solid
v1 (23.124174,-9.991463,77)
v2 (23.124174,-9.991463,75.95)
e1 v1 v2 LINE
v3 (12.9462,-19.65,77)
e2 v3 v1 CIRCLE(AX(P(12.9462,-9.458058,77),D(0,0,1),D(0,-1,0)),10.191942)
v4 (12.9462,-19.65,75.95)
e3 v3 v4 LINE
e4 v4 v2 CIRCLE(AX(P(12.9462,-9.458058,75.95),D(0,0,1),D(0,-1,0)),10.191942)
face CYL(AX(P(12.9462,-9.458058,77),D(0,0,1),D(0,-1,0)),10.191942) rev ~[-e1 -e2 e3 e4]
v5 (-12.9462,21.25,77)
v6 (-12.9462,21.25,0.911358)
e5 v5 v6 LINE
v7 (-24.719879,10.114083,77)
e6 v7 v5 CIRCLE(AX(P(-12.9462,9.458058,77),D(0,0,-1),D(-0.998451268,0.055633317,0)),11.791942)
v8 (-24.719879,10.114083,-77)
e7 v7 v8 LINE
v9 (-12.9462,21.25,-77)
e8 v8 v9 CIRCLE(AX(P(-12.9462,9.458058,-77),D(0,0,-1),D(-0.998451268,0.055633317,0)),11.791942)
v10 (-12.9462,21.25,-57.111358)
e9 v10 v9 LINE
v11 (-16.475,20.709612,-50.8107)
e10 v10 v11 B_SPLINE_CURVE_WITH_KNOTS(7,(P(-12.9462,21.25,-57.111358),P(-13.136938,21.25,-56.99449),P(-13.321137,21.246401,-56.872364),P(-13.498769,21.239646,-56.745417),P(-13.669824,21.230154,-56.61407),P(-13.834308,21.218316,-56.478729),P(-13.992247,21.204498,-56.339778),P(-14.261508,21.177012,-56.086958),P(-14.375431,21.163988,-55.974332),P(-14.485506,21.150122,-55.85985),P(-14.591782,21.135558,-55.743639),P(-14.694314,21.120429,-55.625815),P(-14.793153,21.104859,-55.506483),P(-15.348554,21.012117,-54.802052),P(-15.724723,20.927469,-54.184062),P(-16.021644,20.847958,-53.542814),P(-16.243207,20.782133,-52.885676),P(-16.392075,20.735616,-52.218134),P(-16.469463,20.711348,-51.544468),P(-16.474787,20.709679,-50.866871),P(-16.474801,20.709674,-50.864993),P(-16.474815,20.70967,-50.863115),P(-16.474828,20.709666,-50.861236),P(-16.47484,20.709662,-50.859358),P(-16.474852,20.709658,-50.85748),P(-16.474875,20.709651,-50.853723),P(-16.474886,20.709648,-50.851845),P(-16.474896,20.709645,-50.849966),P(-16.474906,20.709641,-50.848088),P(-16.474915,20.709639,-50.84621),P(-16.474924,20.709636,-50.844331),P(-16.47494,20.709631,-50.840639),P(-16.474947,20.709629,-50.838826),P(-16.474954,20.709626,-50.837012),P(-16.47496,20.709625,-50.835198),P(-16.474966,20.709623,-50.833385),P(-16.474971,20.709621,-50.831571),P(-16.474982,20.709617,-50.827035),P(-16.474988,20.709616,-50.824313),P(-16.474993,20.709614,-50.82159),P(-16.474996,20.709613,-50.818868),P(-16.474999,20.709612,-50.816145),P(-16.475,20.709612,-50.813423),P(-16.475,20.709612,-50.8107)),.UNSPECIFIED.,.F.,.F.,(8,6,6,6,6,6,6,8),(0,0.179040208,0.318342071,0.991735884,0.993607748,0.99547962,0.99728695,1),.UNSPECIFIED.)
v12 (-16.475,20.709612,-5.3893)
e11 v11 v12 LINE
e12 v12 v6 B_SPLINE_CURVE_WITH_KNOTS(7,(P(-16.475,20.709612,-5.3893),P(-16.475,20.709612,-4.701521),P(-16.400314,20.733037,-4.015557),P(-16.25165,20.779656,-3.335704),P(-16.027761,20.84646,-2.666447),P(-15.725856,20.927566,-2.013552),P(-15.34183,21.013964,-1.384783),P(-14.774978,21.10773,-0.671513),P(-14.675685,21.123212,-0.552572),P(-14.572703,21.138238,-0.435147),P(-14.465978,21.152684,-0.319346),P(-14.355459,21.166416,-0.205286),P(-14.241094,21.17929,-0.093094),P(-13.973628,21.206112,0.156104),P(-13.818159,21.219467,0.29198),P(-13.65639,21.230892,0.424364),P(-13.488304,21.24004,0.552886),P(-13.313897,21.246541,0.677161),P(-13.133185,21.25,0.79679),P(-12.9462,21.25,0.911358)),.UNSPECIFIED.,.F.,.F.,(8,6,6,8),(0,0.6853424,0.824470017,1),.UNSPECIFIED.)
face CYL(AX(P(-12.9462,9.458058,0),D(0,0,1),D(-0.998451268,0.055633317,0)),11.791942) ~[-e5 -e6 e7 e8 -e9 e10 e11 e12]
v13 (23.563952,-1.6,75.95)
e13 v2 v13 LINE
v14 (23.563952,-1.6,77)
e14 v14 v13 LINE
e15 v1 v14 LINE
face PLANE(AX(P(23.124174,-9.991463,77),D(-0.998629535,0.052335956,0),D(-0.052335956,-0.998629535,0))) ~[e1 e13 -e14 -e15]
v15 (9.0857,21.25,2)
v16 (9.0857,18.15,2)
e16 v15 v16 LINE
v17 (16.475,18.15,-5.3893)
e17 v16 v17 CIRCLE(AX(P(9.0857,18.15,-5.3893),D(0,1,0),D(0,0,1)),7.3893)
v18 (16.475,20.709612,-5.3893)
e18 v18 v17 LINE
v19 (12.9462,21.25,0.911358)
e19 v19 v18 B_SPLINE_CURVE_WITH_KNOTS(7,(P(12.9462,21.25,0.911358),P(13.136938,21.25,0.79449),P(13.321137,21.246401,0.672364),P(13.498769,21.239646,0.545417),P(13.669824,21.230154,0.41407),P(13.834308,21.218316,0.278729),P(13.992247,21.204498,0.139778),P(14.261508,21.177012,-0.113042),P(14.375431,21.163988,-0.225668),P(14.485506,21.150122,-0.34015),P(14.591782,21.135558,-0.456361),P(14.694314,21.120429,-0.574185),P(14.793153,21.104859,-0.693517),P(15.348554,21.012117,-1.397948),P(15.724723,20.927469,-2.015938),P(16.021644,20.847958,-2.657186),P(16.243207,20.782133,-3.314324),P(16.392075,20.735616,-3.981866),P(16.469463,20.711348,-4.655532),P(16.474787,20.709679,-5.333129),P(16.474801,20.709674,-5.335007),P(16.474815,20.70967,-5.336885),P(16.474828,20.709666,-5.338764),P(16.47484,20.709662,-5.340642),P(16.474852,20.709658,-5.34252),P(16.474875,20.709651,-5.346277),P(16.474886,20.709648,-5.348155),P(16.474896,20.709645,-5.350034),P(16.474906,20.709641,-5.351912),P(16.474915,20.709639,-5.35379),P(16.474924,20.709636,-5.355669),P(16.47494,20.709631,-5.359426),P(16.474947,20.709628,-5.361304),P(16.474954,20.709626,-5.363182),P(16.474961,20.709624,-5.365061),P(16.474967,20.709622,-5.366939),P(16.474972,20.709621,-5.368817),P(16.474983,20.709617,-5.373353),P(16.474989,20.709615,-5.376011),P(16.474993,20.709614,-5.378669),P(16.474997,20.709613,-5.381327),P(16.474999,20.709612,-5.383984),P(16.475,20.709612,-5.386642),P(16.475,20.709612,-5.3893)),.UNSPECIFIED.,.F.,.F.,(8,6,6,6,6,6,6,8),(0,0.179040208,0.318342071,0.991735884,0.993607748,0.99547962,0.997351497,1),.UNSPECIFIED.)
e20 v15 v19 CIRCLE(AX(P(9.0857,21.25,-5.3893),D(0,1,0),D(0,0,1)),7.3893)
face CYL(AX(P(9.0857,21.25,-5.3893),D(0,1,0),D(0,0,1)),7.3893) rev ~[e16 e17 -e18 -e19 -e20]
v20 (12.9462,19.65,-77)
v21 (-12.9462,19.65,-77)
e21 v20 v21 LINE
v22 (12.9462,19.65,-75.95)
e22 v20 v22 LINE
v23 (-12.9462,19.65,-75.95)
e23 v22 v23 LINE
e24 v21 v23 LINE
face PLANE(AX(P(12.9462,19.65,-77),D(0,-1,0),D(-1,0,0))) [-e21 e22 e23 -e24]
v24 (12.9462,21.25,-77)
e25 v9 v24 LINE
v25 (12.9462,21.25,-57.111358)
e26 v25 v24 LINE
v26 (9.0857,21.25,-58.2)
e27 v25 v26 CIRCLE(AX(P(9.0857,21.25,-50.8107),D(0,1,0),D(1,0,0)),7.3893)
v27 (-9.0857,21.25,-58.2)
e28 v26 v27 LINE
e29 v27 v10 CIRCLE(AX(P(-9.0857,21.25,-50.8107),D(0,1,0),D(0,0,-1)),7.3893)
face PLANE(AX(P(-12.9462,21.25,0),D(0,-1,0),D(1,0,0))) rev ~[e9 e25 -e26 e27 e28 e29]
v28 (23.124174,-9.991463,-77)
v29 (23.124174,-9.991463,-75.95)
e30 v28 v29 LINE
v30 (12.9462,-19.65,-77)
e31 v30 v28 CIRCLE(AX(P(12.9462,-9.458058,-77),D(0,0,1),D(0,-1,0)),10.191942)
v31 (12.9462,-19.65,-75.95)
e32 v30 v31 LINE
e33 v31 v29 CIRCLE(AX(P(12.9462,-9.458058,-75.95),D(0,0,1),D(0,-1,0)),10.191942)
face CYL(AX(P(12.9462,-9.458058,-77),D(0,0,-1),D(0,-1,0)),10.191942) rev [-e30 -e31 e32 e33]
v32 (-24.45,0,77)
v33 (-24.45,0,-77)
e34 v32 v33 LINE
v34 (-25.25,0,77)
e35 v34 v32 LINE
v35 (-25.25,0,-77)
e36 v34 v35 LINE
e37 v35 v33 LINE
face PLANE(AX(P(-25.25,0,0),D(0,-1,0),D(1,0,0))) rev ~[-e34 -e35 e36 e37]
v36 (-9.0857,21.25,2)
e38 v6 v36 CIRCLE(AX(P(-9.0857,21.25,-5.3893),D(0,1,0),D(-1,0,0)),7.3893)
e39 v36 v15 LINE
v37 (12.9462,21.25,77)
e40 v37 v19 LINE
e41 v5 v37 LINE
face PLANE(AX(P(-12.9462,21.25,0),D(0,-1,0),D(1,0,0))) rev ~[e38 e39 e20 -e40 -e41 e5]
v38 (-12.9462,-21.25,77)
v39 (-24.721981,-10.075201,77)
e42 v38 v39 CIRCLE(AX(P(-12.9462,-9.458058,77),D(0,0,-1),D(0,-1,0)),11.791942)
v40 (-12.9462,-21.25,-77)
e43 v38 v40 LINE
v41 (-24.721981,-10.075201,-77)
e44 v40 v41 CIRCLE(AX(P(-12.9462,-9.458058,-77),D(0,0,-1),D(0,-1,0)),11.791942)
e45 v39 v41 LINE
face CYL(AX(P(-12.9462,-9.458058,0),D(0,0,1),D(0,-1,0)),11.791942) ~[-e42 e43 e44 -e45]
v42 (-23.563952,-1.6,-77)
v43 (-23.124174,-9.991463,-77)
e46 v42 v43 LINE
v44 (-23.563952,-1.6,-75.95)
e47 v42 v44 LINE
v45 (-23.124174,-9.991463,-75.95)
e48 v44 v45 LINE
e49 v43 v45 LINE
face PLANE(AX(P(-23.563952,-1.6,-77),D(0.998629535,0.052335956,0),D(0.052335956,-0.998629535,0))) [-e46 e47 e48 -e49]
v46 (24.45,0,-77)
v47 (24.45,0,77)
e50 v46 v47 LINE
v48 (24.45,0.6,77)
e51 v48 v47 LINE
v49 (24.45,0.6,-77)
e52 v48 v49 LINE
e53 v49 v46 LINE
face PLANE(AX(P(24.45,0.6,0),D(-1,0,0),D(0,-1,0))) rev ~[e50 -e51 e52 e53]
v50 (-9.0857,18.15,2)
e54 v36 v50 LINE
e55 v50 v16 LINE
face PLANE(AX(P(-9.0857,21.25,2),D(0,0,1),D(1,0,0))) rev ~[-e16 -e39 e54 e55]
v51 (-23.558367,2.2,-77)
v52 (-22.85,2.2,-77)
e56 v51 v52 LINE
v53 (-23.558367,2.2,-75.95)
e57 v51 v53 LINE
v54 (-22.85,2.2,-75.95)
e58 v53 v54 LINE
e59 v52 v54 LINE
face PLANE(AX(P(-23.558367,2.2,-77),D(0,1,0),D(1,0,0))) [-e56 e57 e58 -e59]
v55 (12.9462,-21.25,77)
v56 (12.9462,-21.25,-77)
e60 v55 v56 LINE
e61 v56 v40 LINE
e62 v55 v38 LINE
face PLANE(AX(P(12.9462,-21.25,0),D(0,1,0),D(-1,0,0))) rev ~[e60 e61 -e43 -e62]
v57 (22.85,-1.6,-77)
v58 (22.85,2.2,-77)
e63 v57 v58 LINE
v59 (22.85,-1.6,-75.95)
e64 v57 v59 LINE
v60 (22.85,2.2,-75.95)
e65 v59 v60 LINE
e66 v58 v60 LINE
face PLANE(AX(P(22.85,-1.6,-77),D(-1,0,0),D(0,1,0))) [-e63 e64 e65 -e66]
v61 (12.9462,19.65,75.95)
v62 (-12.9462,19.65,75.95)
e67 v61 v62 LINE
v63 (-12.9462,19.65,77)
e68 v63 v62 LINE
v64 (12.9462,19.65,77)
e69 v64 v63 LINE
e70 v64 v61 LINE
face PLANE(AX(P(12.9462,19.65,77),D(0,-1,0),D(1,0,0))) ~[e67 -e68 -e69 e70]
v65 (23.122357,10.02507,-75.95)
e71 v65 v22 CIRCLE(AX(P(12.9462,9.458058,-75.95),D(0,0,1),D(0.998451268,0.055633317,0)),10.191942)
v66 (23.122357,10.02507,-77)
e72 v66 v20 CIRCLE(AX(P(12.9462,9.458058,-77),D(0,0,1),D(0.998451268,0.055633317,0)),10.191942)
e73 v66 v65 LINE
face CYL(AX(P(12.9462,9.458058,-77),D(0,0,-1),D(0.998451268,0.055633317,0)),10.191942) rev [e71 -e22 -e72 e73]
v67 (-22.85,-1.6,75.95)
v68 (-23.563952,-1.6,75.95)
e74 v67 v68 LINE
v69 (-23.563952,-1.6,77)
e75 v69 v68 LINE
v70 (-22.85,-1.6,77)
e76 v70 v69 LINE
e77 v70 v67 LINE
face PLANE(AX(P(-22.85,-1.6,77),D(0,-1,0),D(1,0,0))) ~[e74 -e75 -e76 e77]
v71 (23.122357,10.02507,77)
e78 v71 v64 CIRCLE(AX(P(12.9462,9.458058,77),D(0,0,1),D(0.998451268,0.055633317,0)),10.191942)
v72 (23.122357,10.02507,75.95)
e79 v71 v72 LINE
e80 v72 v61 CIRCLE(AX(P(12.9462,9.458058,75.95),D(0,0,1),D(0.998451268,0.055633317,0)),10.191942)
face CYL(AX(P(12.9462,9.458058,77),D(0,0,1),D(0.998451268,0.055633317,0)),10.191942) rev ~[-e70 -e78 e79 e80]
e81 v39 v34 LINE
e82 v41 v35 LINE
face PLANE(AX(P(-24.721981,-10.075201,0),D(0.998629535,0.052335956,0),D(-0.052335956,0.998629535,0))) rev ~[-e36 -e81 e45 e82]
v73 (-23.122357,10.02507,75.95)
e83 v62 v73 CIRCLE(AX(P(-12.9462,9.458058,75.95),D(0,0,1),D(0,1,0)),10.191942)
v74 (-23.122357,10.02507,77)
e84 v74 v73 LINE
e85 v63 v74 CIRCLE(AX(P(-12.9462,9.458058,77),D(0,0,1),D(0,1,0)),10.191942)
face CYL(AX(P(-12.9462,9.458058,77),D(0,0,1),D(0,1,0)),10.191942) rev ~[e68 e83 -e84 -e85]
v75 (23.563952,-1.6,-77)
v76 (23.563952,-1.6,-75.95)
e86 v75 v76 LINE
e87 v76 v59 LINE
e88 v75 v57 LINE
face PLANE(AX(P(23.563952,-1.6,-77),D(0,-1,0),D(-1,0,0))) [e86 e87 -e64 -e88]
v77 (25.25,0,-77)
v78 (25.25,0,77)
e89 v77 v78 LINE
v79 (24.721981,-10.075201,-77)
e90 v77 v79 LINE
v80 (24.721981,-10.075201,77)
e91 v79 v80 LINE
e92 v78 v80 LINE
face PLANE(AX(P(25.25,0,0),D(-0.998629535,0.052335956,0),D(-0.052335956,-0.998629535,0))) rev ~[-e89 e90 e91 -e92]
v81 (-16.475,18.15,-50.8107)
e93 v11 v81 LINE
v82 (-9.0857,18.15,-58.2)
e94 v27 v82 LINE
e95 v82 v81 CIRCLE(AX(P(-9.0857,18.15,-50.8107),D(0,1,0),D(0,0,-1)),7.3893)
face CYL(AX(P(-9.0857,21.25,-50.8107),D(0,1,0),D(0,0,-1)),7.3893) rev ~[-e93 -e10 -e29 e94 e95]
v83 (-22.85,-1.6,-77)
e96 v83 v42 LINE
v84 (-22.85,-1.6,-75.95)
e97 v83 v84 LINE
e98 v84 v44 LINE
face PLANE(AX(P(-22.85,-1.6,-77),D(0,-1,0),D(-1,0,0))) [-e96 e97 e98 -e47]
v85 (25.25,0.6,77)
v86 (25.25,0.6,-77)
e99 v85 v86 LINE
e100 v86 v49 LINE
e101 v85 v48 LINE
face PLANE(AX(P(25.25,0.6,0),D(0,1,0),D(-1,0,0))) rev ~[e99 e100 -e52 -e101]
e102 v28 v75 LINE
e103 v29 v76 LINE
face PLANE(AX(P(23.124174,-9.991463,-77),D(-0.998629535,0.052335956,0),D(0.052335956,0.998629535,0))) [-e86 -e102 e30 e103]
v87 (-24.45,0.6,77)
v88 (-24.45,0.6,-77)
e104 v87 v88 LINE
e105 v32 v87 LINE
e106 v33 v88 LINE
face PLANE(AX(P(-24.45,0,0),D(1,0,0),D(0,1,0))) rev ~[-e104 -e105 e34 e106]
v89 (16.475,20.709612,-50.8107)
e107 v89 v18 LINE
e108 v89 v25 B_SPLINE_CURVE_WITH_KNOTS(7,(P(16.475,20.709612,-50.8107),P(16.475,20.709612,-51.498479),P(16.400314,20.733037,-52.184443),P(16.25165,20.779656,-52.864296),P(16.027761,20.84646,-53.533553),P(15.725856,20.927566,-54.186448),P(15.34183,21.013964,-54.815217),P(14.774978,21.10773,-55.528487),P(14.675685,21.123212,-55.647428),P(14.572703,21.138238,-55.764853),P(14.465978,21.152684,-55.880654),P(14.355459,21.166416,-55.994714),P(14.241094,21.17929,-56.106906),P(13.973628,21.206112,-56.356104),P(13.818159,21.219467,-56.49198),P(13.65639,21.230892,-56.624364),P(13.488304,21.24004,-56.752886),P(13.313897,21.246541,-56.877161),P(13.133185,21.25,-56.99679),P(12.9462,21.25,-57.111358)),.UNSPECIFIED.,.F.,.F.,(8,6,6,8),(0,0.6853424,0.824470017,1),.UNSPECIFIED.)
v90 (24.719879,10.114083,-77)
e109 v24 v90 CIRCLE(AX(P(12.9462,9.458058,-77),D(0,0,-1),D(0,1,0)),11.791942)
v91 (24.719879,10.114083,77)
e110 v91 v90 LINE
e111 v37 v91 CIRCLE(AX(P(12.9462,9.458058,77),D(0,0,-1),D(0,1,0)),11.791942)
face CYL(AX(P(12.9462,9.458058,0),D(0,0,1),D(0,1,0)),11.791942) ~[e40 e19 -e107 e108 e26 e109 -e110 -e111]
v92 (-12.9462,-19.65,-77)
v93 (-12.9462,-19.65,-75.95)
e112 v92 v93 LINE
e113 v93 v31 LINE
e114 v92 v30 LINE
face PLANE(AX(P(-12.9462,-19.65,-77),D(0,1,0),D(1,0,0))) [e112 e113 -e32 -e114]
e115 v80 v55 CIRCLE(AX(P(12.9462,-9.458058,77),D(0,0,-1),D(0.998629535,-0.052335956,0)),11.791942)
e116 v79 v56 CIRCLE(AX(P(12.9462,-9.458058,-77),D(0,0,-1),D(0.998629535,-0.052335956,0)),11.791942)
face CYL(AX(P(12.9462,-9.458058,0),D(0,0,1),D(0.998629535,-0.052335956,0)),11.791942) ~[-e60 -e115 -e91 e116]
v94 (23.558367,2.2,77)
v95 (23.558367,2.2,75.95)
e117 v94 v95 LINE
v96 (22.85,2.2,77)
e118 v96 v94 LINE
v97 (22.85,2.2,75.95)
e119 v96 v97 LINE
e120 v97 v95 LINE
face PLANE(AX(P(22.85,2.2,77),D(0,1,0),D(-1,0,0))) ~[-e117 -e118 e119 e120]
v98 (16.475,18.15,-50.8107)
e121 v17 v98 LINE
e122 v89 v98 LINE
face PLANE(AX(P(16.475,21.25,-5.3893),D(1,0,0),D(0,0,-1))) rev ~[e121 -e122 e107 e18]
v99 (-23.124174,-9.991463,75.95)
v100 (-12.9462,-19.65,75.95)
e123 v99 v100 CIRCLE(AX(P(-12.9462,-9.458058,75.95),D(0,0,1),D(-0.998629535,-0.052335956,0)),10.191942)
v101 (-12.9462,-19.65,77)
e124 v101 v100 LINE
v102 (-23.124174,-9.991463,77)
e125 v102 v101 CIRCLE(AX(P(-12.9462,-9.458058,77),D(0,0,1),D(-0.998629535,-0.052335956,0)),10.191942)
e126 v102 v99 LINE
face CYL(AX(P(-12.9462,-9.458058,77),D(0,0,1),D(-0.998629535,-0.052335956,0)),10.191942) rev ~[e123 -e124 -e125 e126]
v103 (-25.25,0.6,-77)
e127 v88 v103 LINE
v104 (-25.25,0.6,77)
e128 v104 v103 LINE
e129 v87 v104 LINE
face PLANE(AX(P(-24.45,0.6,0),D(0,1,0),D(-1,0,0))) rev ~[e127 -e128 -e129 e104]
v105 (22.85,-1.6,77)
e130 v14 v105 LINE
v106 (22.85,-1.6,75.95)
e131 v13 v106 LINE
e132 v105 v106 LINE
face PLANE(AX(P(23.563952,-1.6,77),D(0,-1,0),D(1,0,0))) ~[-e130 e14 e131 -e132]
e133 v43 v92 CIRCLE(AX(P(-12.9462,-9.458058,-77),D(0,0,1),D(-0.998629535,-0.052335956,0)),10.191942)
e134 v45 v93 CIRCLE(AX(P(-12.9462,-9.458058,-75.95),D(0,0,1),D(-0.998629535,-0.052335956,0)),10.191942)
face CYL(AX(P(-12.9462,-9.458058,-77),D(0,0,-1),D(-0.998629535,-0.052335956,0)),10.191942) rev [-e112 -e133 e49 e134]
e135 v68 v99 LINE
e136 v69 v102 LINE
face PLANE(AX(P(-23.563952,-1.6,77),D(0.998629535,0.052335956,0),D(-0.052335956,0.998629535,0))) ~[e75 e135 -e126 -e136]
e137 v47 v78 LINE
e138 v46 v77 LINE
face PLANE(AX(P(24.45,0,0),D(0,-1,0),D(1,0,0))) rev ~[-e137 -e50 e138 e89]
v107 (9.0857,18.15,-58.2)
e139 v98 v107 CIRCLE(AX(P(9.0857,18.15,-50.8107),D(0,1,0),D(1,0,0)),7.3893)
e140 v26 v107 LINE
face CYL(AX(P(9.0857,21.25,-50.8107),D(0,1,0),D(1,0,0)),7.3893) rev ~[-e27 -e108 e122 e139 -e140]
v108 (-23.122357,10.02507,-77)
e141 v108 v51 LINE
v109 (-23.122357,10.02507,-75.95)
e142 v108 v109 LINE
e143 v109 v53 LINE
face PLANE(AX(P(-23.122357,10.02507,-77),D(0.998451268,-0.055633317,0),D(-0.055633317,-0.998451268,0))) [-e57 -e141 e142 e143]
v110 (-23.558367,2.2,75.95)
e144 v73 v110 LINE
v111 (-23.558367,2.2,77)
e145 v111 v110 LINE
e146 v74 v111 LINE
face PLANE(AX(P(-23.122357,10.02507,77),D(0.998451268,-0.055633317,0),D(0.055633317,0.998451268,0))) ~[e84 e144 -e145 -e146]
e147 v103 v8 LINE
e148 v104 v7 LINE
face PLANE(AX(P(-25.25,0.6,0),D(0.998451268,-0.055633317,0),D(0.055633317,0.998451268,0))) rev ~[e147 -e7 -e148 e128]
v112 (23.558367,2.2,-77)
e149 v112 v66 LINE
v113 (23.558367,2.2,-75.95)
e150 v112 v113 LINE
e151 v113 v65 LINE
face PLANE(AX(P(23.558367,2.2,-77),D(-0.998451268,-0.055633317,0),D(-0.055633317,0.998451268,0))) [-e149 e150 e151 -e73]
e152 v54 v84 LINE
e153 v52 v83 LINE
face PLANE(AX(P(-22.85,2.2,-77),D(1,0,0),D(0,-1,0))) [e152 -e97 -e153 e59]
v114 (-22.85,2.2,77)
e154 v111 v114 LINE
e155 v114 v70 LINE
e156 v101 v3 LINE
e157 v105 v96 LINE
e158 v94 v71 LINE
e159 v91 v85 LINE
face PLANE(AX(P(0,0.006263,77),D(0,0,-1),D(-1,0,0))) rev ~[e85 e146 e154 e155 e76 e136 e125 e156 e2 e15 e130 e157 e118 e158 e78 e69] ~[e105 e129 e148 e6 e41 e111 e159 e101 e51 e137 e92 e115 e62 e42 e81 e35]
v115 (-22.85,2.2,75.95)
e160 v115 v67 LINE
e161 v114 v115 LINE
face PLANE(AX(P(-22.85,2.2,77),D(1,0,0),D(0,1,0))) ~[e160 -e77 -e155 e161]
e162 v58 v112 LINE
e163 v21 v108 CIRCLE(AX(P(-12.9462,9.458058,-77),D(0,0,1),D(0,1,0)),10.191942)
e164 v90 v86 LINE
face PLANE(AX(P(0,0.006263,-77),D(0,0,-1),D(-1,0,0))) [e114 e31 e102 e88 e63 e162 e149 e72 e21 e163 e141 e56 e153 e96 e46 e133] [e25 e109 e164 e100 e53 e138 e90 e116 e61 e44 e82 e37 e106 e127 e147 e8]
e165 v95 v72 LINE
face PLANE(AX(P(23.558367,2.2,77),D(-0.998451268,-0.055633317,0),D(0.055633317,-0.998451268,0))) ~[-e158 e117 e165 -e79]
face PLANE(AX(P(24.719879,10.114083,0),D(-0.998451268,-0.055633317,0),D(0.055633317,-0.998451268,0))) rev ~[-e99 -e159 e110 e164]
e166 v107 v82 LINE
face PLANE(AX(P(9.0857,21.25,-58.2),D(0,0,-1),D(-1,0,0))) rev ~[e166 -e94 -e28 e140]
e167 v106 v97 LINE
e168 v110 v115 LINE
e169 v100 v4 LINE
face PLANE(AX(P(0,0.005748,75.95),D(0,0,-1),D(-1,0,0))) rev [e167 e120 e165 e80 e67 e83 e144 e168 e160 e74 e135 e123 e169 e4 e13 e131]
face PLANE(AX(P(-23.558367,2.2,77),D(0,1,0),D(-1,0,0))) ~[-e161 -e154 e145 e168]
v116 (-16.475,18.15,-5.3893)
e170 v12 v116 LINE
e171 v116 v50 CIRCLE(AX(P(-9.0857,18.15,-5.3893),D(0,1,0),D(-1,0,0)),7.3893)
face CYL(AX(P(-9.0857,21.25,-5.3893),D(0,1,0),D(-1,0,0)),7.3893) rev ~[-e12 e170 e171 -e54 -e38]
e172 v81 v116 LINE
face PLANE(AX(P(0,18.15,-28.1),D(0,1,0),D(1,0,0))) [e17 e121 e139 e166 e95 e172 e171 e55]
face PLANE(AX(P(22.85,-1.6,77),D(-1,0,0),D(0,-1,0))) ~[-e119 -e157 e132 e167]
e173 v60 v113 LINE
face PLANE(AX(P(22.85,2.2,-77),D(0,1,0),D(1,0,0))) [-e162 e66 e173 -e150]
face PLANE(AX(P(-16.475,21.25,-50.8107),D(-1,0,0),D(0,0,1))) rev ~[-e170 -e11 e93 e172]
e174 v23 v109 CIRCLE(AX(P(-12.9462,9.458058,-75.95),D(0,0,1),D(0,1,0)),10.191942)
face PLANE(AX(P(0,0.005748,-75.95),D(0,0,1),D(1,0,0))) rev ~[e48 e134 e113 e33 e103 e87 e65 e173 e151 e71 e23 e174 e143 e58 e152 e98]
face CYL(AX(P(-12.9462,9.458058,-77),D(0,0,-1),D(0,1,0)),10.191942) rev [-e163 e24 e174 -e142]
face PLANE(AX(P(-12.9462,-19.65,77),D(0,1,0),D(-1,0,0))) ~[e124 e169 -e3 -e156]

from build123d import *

# Parameters (mm, degrees)
MAIN_BODY_DEPTH  = 77
LENS_CUT_DEPTH   = 3.1
END_RECESS_START = -77
END_RECESS_DEPTH = 1.05


with BuildPart() as part:
    # main_features_sketch → main_body (new, symmetric)
    with BuildSketch(Plane.XY):
        with BuildLine():
            ThreePointArc((24.721981093, -10.075200948), (21.063236898, -18.011630623), (12.946199947, -21.25))
            Line((12.946199947, -21.25), (-12.946199947, -21.25))
            ThreePointArc((-12.946199947, -21.25), (-21.063236898, -18.011630623), (-24.721981093, -10.075200948))
            Line((-24.721981093, -10.075200948), (-25.25, 0))
            Line((-25.25, 0), (-24.45, 0))
            Line((-24.45, 0), (-24.45, 0.6))
            Line((-24.45, 0.6), (-25.25, 0.6))
            Line((-25.25, 0.6), (-24.719878978, 10.11408323))
            ThreePointArc((-24.719878978, 10.11408323), (-21.049103134, 18.025020906), (-12.946199947, 21.25))
            Line((-12.946199947, 21.25), (12.946199947, 21.25))
            ThreePointArc((12.946199947, 21.25), (21.049103134, 18.025020906), (24.719878978, 10.11408323))
            Line((24.719878978, 10.11408323), (25.25, 0.6))
            Line((25.25, 0.6), (24.45, 0.6))
            Line((24.45, 0.6), (24.45, 0))
            Line((24.45, 0), (25.25, 0))
            Line((25.25, 0), (24.721981093, -10.075200948))
        make_face()
        with BuildLine():
            ThreePointArc((-23.124173837, -9.991463418), (-19.961869577, -16.85103163), (-12.946199947, -19.65))
            Line((-12.946199947, -19.65), (12.946199947, -19.65))
            ThreePointArc((12.946199947, -19.65), (19.961869577, -16.85103163), (23.124173837, -9.991463418))
            Line((23.124173837, -9.991463418), (23.5639518, -1.6))
            Line((23.5639518, -1.6), (22.85, -1.6))
            Line((22.85, -1.6), (22.85, 2.2))
            Line((22.85, 2.2), (23.558366806, 2.2))
            Line((23.558366806, 2.2), (23.12235695, 10.025069924))
            ThreePointArc((23.12235695, 10.025069924), (19.949653565, 16.86260504), (12.946199947, 19.65))
            Line((12.946199947, 19.65), (-12.946199947, 19.65))
            ThreePointArc((-12.946199947, 19.65), (-19.949653565, 16.86260504), (-23.12235695, 10.025069924))
            Line((-23.12235695, 10.025069924), (-23.558366806, 2.2))
            Line((-23.558366806, 2.2), (-22.85, 2.2))
            Line((-22.85, 2.2), (-22.85, -1.6))
            Line((-22.85, -1.6), (-23.5639518, -1.6))
            Line((-23.5639518, -1.6), (-23.124173837, -9.991463418))
        make_face(mode=Mode.SUBTRACT)
        with BuildLine():
            Line((-23.5639518, -1.6), (-23.124173837, -9.991463418))
            ThreePointArc((-23.124173837, -9.991463418), (-19.961869577, -16.85103163), (-12.946199947, -19.65))
            Line((-12.946199947, -19.65), (12.946199947, -19.65))
            ThreePointArc((12.946199947, -19.65), (19.961869577, -16.85103163), (23.124173837, -9.991463418))
            Line((23.124173837, -9.991463418), (23.5639518, -1.6))
            Line((23.5639518, -1.6), (22.85, -1.6))
            Line((22.85, -1.6), (22.85, 2.2))
            Line((22.85, 2.2), (23.558366806, 2.2))
            Line((23.558366806, 2.2), (23.12235695, 10.025069924))
            ThreePointArc((23.12235695, 10.025069924), (19.949653565, 16.86260504), (12.946199947, 19.65))
            Line((12.946199947, 19.65), (-12.946199947, 19.65))
            ThreePointArc((-12.946199947, 19.65), (-19.949653565, 16.86260504), (-23.12235695, 10.025069924))
            Line((-23.12235695, 10.025069924), (-23.558366806, 2.2))
            Line((-23.558366806, 2.2), (-22.85, 2.2))
            Line((-22.85, 2.2), (-22.85, -1.6))
            Line((-22.85, -1.6), (-23.5639518, -1.6))
        make_face()
    extrude(amount=MAIN_BODY_DEPTH, both=True)

    # lens_sketch → lens_cut (cut)
    with BuildSketch(Plane(origin=(0, 21.25, 0), x_dir=(1, 0, 0), z_dir=(0, 1, 0))):
        with BuildLine():
            Line((9.085700376, 58.2), (-9.085700376, 58.2))
            ThreePointArc((-9.085700376, 58.2), (-14.310724248, 56.035724248), (-16.475, 50.810700376))
            Line((-16.475, 50.810700376), (-16.475, 5.389299624))
            ThreePointArc((-16.475, 5.389299624), (-14.310724248, 0.164275752), (-9.085700376, -2))
            Line((-9.085700376, -2), (9.085700376, -2))
            ThreePointArc((9.085700376, -2), (14.310724248, 0.164275752), (16.475, 5.389299624))
            Line((16.475, 5.389299624), (16.475, 50.810700376))
            ThreePointArc((16.475, 50.810700376), (14.310724248, 56.035724248), (9.085700376, 58.2))
        make_face()
    extrude(amount=-LENS_CUT_DEPTH, mode=Mode.SUBTRACT)

    # Sketch1<3> → end_recess (cut)
    with BuildSketch(Plane.XY.offset(END_RECESS_START)):
        with BuildLine():
            Line((-23.5639518, -1.6), (-23.124173837, -9.991463418))
            ThreePointArc((-23.124173837, -9.991463418), (-19.961869577, -16.85103163), (-12.946199947, -19.65))
            Line((-12.946199947, -19.65), (12.946199947, -19.65))
            ThreePointArc((12.946199947, -19.65), (19.961869577, -16.85103163), (23.124173837, -9.991463418))
            Line((23.124173837, -9.991463418), (23.5639518, -1.6))
            Line((23.5639518, -1.6), (22.85, -1.6))
            Line((22.85, -1.6), (22.85, 2.2))
            Line((22.85, 2.2), (23.558366806, 2.2))
            Line((23.558366806, 2.2), (23.12235695, 10.025069924))
            ThreePointArc((23.12235695, 10.025069924), (19.949653565, 16.86260504), (12.946199947, 19.65))
            Line((12.946199947, 19.65), (-12.946199947, 19.65))
            ThreePointArc((-12.946199947, 19.65), (-19.949653565, 16.86260504), (-23.12235695, 10.025069924))
            Line((-23.12235695, 10.025069924), (-23.558366806, 2.2))
            Line((-23.558366806, 2.2), (-22.85, 2.2))
            Line((-22.85, 2.2), (-22.85, -1.6))
            Line((-22.85, -1.6), (-23.5639518, -1.6))
        make_face()
    end_recess = extrude(amount=END_RECESS_DEPTH, mode=Mode.SUBTRACT)

    # end_recess_2: end_recess across plane
    add(end_recess.mirror(Plane.XY), mode=Mode.SUBTRACT)


solid = part.part
